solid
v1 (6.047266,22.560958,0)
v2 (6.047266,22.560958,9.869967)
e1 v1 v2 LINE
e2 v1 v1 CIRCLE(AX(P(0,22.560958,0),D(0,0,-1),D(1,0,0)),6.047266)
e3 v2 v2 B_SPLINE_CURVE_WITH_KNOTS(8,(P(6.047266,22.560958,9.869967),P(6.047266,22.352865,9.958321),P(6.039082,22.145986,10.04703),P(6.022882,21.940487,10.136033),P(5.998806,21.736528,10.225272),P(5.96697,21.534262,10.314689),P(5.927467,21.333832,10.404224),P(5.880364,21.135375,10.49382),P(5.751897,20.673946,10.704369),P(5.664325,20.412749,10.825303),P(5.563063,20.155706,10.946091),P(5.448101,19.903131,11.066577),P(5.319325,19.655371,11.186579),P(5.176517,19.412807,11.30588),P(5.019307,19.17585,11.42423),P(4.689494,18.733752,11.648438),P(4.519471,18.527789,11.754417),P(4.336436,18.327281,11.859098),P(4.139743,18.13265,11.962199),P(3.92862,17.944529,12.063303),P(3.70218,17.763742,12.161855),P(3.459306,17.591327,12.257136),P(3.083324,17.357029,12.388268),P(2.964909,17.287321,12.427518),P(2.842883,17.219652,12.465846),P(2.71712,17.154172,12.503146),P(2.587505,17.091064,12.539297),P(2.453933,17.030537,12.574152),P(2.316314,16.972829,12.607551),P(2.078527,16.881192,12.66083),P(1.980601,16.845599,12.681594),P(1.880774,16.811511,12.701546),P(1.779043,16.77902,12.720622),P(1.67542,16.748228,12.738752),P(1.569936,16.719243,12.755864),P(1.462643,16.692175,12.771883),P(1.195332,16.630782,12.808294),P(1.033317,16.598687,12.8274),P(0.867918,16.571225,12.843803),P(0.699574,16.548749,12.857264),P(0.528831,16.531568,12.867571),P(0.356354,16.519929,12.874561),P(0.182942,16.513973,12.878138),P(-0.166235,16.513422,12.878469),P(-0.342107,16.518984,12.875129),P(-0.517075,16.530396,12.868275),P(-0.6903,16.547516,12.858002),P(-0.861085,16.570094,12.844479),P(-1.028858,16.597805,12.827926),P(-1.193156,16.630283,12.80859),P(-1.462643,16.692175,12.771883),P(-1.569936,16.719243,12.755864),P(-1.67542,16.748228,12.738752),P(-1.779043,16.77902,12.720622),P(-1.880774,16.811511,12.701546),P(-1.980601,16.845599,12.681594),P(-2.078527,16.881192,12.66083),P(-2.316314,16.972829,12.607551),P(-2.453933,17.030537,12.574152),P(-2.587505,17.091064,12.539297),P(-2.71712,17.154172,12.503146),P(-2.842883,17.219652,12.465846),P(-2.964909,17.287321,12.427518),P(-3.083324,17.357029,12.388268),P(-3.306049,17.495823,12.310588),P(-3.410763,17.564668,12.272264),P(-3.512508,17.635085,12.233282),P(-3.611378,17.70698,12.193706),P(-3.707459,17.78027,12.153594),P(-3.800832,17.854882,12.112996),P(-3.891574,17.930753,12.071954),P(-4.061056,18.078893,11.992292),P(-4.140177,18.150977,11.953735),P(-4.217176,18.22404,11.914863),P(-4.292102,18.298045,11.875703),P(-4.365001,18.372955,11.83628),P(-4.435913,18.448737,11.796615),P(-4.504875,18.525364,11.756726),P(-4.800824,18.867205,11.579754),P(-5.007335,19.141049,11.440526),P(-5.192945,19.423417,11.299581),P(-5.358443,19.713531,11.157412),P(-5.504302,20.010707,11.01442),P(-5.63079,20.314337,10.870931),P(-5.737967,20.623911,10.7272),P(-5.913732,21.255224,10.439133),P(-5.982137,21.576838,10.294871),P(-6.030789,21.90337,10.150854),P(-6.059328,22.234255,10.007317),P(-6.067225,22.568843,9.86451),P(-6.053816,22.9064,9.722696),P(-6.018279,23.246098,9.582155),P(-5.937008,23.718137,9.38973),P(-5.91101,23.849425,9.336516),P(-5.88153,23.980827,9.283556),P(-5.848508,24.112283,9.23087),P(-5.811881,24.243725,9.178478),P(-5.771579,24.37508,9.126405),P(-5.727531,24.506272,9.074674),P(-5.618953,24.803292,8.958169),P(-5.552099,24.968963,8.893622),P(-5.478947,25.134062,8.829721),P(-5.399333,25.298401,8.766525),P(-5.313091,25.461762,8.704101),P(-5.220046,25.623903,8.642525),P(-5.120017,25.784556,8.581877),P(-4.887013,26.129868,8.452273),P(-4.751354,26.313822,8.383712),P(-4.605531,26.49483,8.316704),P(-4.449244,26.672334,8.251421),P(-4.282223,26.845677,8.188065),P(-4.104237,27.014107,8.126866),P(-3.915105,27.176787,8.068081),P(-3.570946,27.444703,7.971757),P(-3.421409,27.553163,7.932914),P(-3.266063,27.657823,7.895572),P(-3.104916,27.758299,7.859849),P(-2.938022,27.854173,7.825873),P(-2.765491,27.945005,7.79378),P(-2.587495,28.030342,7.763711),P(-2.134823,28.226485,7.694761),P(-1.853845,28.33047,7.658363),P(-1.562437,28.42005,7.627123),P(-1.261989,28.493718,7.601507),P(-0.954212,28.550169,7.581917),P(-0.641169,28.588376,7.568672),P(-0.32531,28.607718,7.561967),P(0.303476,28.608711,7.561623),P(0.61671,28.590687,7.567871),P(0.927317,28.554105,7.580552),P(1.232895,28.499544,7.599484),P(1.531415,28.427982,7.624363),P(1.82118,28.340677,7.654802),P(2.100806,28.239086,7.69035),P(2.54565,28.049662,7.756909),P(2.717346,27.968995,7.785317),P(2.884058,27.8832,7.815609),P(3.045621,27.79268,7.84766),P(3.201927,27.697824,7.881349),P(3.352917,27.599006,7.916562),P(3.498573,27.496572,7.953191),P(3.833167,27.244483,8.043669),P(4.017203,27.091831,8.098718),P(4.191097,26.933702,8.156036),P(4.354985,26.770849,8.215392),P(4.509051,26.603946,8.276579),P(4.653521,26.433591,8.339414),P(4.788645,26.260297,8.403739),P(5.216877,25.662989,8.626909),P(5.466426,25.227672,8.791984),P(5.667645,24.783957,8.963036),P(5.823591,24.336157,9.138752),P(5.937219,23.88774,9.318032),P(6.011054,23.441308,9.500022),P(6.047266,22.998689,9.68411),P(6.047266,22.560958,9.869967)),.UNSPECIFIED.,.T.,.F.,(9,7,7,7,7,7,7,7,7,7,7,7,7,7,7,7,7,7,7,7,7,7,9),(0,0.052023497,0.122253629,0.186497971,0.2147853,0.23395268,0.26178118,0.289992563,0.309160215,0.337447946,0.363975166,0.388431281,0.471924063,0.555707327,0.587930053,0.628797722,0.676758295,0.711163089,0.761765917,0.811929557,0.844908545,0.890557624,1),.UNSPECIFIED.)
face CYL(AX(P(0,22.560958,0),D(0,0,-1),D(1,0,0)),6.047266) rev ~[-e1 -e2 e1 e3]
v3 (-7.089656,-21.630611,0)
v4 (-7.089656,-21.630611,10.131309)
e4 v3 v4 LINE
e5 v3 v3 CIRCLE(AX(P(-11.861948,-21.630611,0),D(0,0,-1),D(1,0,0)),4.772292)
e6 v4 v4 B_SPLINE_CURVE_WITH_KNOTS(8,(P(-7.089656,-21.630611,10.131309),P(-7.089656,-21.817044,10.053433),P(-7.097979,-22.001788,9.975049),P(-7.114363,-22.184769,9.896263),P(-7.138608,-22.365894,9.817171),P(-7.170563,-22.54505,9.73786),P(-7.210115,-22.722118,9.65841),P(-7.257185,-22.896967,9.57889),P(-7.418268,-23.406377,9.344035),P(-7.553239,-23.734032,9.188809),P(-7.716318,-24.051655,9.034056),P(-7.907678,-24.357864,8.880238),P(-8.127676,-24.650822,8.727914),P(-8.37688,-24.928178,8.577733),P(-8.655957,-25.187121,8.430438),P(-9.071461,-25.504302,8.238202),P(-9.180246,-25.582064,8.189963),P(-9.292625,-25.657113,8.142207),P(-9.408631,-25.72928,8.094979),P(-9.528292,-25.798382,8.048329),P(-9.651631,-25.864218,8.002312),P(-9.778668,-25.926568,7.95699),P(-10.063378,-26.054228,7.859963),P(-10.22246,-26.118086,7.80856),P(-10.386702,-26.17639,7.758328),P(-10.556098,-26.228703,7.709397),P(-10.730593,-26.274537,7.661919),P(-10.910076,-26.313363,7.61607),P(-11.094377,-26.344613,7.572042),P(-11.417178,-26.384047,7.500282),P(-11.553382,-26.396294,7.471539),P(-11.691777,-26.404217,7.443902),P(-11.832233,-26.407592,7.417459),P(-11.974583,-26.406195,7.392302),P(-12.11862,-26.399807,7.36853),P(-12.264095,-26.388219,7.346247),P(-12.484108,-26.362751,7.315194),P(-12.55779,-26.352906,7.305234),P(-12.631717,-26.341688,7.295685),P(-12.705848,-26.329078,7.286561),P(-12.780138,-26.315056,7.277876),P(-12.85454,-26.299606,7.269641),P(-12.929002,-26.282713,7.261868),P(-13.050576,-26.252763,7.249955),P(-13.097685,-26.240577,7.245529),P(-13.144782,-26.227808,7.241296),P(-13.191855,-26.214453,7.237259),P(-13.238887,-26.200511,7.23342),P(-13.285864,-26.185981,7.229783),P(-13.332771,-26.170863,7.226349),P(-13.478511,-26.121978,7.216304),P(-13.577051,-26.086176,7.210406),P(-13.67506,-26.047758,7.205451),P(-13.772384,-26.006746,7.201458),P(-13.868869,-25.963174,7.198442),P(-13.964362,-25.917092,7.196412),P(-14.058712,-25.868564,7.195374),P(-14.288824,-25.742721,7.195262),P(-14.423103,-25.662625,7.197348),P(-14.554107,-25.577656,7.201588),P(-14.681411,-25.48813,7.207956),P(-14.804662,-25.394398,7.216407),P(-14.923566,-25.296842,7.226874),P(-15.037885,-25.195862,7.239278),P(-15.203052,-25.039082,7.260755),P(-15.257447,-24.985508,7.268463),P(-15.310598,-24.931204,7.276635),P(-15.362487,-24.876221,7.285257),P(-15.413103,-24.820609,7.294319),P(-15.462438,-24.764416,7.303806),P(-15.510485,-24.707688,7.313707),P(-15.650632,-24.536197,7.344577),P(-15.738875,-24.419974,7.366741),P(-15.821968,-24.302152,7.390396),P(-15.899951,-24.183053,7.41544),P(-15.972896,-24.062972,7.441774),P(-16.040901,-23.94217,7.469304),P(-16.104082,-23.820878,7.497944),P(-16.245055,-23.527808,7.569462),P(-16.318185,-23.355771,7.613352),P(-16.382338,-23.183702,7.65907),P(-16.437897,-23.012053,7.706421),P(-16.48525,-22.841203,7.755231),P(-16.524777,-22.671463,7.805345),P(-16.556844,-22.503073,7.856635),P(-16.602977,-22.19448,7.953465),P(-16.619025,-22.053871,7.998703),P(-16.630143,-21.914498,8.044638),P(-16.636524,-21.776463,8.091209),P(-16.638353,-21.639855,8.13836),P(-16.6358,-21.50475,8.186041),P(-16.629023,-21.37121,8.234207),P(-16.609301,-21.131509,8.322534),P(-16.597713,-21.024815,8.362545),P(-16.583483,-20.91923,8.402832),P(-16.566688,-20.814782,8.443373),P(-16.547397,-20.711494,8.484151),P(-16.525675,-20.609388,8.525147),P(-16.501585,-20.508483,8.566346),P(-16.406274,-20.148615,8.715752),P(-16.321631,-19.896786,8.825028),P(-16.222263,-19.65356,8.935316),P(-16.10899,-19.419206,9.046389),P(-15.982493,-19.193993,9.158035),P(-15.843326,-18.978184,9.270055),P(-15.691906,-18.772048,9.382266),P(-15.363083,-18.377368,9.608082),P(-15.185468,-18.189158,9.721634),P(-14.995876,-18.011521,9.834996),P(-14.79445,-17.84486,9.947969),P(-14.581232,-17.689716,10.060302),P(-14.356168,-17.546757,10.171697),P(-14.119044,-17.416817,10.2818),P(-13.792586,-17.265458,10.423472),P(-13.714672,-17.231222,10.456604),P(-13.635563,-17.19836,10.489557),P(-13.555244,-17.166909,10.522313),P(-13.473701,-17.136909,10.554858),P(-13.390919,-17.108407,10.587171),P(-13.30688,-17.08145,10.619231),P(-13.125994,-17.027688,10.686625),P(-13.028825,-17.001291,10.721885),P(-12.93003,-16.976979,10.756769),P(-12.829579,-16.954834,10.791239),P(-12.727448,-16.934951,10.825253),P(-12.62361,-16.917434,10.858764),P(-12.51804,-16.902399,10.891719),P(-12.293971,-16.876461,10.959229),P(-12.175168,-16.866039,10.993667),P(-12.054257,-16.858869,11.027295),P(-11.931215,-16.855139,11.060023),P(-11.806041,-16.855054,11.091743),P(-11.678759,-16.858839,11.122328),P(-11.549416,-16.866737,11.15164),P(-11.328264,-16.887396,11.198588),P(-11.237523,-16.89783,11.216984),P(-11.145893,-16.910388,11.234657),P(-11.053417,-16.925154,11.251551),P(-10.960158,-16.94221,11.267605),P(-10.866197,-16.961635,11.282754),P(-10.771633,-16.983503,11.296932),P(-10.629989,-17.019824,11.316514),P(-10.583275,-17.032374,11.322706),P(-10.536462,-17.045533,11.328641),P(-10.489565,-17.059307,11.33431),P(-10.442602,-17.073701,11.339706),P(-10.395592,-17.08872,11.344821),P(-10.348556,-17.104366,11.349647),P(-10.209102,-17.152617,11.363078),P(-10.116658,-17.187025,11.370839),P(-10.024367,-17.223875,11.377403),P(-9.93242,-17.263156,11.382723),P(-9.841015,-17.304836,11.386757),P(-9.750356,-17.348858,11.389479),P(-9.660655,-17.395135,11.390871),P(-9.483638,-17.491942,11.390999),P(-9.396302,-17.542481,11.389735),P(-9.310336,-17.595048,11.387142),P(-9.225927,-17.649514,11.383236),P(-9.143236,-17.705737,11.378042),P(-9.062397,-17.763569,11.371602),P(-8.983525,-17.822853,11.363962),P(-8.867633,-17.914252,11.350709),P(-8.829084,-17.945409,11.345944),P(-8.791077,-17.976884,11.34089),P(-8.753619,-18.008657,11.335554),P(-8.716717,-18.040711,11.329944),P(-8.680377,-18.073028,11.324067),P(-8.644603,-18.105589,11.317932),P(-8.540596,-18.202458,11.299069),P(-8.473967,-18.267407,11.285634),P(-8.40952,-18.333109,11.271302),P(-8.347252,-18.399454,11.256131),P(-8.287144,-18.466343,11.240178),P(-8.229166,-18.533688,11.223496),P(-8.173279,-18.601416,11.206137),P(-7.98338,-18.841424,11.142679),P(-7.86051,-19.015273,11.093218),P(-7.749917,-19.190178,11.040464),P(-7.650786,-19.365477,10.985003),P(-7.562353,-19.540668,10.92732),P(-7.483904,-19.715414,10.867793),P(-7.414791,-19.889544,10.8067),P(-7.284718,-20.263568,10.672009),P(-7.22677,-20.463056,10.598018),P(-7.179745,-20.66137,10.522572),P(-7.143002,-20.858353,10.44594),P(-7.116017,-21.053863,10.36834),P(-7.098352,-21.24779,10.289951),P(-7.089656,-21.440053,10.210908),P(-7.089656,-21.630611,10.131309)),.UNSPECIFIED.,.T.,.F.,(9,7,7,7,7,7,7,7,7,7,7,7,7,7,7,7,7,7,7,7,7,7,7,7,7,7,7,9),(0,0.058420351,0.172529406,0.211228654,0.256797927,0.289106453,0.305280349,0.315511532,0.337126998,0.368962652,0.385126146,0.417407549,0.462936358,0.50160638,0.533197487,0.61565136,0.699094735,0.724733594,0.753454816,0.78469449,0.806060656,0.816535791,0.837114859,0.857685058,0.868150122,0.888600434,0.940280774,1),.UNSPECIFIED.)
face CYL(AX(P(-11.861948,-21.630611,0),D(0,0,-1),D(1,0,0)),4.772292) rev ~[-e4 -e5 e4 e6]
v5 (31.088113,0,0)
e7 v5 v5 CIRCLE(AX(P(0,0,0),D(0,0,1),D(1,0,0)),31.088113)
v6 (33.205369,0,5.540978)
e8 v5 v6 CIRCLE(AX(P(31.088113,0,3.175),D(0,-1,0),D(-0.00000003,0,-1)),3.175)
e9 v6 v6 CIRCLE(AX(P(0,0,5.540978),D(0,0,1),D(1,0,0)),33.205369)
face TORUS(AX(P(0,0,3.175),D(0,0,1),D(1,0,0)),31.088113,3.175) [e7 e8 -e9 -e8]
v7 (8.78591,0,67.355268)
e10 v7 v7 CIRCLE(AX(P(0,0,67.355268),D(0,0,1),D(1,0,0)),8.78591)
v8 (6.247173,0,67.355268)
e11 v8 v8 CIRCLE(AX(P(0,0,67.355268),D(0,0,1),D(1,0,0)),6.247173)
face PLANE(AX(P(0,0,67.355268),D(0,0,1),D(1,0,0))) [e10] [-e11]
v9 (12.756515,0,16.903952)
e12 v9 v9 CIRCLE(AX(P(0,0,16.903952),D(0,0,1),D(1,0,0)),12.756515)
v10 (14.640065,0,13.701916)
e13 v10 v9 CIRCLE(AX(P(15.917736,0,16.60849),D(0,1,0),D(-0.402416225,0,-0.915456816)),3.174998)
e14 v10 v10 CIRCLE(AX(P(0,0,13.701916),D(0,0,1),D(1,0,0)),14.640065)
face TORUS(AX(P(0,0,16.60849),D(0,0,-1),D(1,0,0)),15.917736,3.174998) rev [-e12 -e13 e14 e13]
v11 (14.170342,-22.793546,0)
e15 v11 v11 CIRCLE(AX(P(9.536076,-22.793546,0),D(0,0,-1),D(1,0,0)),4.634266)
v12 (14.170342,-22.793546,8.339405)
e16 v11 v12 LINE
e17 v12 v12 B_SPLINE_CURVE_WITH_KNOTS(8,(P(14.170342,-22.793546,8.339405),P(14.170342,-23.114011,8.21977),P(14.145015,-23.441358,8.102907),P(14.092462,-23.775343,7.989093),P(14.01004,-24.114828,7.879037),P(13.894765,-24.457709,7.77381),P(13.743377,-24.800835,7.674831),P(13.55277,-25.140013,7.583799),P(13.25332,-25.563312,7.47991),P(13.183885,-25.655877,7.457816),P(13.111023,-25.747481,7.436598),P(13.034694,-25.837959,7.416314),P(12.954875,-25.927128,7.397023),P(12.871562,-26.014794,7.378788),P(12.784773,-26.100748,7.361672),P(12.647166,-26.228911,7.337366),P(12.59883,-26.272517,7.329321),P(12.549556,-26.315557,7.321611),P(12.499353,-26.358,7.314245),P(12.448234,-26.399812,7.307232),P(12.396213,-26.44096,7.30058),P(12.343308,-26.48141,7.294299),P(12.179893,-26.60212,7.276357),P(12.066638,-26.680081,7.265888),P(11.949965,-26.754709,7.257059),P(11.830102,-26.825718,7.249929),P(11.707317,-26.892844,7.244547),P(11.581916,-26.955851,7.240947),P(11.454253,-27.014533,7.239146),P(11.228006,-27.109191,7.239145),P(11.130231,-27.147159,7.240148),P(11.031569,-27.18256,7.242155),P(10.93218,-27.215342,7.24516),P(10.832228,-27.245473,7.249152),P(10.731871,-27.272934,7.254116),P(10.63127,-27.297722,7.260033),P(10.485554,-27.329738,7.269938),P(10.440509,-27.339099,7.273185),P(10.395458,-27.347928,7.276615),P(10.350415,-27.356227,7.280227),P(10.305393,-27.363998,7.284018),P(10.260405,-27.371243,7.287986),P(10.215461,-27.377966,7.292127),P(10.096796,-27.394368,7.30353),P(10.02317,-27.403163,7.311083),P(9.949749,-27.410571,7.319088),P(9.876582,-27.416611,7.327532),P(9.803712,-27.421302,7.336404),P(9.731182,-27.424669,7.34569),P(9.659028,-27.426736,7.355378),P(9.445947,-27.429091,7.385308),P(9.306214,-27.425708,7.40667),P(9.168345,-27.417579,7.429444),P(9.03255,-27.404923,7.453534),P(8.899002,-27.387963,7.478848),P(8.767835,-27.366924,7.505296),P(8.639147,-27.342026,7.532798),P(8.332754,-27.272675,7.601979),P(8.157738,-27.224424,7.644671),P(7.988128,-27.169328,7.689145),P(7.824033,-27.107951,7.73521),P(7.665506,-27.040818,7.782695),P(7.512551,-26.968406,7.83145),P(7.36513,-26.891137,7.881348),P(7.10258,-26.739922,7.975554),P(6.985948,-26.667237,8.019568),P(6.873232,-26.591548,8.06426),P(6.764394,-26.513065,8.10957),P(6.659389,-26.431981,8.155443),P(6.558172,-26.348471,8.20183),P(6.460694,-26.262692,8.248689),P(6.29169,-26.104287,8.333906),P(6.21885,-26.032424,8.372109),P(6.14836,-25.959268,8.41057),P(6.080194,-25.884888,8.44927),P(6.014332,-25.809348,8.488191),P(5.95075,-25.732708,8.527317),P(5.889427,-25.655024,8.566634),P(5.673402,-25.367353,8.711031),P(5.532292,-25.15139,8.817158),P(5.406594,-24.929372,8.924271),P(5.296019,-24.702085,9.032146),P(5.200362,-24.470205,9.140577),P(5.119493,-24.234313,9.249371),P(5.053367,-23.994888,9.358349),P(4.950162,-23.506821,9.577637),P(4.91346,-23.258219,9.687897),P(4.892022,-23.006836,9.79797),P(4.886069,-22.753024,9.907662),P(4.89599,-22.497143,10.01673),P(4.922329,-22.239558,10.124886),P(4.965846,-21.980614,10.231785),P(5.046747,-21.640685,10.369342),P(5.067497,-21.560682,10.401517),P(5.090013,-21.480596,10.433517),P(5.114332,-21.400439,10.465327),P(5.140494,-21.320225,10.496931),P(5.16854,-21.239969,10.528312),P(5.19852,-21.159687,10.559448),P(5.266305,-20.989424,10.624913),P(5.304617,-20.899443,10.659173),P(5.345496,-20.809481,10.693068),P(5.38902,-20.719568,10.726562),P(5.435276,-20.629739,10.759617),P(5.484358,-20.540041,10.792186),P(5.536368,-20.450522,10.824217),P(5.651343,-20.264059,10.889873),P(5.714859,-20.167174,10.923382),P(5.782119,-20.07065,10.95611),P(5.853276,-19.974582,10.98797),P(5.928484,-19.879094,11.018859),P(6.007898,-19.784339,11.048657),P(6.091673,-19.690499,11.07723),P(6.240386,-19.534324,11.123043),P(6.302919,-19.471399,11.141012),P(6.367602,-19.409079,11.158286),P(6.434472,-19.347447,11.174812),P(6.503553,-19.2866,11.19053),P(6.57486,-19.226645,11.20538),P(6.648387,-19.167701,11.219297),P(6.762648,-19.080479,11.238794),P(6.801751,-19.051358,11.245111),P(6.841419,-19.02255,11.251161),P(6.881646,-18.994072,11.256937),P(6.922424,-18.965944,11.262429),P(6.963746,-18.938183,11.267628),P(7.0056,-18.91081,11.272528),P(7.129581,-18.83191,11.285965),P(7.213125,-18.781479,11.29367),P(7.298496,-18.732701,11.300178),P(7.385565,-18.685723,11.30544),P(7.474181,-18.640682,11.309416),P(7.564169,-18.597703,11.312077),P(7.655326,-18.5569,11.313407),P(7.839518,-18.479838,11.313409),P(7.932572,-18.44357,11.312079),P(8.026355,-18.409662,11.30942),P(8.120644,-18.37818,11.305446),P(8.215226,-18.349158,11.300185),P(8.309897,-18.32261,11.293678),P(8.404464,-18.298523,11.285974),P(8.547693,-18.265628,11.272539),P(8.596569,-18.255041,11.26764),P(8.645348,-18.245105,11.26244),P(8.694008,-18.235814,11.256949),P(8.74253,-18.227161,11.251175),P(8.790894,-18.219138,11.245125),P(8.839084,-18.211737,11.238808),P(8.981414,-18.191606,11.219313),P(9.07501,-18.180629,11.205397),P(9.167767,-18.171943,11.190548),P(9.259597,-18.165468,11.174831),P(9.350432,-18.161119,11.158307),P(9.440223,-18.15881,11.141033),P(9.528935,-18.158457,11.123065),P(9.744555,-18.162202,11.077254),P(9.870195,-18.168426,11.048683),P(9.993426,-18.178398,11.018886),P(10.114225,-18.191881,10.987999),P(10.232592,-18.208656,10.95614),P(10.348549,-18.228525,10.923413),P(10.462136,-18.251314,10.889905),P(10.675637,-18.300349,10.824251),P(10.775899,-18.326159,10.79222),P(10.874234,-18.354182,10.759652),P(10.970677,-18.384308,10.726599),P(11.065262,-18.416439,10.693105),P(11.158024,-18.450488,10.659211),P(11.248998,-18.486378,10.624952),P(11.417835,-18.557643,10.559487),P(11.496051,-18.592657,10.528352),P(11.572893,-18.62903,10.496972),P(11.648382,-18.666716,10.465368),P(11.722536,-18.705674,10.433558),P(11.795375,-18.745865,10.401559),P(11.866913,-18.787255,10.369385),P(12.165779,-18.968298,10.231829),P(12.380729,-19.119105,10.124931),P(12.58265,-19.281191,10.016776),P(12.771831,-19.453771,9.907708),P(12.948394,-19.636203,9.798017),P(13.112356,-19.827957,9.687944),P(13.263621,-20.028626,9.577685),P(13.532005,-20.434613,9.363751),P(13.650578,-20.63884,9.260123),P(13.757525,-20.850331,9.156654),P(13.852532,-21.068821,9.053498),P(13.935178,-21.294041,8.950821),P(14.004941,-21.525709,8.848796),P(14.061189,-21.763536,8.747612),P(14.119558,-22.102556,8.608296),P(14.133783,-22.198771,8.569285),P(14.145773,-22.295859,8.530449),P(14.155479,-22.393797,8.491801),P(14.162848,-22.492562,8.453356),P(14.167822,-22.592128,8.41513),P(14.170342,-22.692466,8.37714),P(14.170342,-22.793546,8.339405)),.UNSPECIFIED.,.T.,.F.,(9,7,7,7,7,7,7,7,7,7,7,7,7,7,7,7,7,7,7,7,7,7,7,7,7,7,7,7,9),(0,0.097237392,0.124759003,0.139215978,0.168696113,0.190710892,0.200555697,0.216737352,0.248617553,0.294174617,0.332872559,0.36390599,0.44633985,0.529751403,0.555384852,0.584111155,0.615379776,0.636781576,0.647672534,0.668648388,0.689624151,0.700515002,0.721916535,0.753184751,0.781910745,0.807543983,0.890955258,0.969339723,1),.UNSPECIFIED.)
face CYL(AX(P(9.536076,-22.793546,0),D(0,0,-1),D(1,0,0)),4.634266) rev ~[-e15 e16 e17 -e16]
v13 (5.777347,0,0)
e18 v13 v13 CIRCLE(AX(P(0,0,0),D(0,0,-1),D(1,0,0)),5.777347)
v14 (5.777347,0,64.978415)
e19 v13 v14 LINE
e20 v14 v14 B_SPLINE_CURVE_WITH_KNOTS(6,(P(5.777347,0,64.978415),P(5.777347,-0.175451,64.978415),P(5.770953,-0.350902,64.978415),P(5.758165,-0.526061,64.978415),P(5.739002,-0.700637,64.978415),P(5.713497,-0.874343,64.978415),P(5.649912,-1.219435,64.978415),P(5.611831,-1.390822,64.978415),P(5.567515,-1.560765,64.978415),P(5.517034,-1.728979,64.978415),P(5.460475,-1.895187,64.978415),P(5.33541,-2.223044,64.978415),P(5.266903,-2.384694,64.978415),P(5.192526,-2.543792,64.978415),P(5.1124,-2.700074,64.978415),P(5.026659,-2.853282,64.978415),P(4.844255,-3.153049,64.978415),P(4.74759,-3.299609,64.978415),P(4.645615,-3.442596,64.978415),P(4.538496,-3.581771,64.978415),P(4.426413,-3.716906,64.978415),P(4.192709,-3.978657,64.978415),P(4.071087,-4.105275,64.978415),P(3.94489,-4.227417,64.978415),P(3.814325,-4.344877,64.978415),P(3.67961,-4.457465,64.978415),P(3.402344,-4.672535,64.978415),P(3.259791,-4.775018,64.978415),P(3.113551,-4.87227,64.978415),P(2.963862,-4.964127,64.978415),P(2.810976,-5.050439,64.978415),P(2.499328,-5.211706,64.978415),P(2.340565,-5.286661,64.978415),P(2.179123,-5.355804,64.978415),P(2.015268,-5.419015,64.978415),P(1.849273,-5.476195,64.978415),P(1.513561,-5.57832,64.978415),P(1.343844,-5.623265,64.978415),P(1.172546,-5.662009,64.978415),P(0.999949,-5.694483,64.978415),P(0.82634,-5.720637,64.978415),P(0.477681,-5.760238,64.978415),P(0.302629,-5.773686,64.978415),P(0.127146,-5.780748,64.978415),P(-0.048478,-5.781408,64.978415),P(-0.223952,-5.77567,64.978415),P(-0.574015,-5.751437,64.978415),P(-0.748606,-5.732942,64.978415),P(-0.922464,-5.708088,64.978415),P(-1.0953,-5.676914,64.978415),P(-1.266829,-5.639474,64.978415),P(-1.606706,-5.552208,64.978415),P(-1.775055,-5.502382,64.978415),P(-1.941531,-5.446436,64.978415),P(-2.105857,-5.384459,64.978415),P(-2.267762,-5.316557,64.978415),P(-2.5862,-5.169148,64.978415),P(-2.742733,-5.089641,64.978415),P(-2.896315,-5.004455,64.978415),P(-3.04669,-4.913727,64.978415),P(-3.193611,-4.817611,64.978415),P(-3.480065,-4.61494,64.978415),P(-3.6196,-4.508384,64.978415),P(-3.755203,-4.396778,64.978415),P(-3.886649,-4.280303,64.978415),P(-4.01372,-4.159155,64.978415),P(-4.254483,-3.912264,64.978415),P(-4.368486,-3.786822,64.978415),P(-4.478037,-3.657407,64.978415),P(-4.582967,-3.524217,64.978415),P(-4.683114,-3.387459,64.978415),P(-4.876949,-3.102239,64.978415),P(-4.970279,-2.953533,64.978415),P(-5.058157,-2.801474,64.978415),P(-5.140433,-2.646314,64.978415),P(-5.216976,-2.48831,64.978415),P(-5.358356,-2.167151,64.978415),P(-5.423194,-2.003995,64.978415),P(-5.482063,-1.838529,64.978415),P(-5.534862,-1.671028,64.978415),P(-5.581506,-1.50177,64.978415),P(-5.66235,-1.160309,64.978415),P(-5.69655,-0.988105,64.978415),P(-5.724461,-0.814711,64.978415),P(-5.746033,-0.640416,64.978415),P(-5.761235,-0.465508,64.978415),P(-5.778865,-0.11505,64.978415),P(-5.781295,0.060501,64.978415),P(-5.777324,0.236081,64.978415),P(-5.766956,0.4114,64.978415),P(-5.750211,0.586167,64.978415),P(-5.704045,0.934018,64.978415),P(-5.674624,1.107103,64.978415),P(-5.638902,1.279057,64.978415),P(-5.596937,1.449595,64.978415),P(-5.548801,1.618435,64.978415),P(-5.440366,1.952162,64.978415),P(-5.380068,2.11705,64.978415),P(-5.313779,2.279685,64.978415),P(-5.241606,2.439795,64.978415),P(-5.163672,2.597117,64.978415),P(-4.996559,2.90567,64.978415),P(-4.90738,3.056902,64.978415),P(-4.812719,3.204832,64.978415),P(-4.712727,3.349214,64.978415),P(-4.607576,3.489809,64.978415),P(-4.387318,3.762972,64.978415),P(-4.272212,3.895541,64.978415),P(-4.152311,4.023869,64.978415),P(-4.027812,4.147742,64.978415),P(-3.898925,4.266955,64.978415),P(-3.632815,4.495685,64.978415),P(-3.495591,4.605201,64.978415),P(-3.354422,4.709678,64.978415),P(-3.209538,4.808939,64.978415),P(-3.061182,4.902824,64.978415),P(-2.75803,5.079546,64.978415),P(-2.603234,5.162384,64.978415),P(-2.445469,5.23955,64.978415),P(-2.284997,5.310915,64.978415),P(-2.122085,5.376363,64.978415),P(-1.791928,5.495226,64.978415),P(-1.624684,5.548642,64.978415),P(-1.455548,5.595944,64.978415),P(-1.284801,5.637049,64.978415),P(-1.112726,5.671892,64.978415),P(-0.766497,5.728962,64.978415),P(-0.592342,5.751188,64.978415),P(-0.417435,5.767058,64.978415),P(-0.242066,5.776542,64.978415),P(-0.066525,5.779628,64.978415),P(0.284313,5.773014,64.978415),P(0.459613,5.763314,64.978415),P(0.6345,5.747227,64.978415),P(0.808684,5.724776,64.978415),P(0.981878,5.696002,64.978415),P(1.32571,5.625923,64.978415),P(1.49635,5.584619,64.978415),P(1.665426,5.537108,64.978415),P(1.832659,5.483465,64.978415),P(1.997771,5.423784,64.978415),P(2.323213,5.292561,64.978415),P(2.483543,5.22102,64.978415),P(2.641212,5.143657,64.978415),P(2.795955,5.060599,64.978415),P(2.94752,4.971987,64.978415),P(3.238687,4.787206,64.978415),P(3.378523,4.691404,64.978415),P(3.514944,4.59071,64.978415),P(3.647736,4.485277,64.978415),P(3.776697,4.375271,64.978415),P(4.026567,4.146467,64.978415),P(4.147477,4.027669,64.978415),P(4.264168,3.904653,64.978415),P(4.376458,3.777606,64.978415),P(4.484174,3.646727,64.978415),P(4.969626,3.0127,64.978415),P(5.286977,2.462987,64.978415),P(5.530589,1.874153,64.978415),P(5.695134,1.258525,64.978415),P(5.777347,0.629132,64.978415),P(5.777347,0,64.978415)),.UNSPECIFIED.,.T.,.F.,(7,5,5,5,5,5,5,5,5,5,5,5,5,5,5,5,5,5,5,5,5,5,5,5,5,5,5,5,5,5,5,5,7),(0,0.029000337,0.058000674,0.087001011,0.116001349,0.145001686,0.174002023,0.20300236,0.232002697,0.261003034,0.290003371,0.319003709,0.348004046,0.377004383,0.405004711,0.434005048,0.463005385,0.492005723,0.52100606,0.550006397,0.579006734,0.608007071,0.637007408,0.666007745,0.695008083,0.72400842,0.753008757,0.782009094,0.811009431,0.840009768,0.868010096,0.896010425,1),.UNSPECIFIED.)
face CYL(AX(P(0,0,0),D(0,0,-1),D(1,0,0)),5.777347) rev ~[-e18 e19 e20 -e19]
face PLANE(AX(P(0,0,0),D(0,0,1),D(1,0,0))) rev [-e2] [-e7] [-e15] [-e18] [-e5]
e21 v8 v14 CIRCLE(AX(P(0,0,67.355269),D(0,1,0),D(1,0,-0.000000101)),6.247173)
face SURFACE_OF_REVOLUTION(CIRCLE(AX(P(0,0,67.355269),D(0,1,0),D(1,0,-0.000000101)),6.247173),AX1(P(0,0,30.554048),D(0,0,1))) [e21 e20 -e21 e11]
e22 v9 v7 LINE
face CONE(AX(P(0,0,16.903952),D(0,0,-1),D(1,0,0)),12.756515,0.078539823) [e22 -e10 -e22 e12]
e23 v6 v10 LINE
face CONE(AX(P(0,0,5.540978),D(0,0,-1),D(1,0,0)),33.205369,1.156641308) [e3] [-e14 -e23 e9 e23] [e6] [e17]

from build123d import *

# Parameters (mm, degrees)
F2_R     = 5.777347
F3_DEPTH = 87.884
F4_R     = 4.634266
F4_R_2   = 4.772292
F4_R_3   = 6.047266
F5_DEPTH = 25.4


with BuildPart() as f1:
    # F0 (on Front) → F1 (revolve)
    with BuildSketch(Plane.XZ):
        with BuildLine():
            Line((0, 61.108096), (0, 0))
            Line((0, 0), (31.088113, 0))
            ThreePointArc((31.088113, 0), (34.053969, 2.04172), (33.205369, 5.540978))
            Line((33.205369, 5.540978), (14.640065, 13.701916))
            ThreePointArc((14.640065, 13.701916), (13.181096, 14.998702), (12.756515, 16.903952))
            Line((12.756515, 16.903952), (8.78591, 67.355268))
            Line((8.78591, 67.355268), (6.247173, 67.355268))
            ThreePointArc((6.247173, 67.355268), (4.417418, 62.93785), (0, 61.108096))
        make_face()
    revolve(axis=Axis((0, 0, 30.554048), (0, 0, 1)))

    # F2 (on face) → F3 (cut)
    with BuildSketch(Plane(origin=(0, 0, 0), x_dir=(1, 0, 0), z_dir=(0, 0, -1))):
        Circle(F2_R)
    extrude(amount=-F3_DEPTH, mode=Mode.SUBTRACT)

    # F4 (on face) → F5 (cut)
    with BuildSketch(Plane(origin=(0, 0, 0), x_dir=(1, 0, 0), z_dir=(0, 0, -1))):
        with Locations((9.536076, 22.793546)):
            Circle(F4_R)
        with Locations((-11.861948, 21.630611)):
            Circle(F4_R_2)
        with Locations((0, -22.560958)):
            Circle(F4_R_3)
    extrude(amount=-F5_DEPTH, mode=Mode.SUBTRACT)


solid = f1.part
